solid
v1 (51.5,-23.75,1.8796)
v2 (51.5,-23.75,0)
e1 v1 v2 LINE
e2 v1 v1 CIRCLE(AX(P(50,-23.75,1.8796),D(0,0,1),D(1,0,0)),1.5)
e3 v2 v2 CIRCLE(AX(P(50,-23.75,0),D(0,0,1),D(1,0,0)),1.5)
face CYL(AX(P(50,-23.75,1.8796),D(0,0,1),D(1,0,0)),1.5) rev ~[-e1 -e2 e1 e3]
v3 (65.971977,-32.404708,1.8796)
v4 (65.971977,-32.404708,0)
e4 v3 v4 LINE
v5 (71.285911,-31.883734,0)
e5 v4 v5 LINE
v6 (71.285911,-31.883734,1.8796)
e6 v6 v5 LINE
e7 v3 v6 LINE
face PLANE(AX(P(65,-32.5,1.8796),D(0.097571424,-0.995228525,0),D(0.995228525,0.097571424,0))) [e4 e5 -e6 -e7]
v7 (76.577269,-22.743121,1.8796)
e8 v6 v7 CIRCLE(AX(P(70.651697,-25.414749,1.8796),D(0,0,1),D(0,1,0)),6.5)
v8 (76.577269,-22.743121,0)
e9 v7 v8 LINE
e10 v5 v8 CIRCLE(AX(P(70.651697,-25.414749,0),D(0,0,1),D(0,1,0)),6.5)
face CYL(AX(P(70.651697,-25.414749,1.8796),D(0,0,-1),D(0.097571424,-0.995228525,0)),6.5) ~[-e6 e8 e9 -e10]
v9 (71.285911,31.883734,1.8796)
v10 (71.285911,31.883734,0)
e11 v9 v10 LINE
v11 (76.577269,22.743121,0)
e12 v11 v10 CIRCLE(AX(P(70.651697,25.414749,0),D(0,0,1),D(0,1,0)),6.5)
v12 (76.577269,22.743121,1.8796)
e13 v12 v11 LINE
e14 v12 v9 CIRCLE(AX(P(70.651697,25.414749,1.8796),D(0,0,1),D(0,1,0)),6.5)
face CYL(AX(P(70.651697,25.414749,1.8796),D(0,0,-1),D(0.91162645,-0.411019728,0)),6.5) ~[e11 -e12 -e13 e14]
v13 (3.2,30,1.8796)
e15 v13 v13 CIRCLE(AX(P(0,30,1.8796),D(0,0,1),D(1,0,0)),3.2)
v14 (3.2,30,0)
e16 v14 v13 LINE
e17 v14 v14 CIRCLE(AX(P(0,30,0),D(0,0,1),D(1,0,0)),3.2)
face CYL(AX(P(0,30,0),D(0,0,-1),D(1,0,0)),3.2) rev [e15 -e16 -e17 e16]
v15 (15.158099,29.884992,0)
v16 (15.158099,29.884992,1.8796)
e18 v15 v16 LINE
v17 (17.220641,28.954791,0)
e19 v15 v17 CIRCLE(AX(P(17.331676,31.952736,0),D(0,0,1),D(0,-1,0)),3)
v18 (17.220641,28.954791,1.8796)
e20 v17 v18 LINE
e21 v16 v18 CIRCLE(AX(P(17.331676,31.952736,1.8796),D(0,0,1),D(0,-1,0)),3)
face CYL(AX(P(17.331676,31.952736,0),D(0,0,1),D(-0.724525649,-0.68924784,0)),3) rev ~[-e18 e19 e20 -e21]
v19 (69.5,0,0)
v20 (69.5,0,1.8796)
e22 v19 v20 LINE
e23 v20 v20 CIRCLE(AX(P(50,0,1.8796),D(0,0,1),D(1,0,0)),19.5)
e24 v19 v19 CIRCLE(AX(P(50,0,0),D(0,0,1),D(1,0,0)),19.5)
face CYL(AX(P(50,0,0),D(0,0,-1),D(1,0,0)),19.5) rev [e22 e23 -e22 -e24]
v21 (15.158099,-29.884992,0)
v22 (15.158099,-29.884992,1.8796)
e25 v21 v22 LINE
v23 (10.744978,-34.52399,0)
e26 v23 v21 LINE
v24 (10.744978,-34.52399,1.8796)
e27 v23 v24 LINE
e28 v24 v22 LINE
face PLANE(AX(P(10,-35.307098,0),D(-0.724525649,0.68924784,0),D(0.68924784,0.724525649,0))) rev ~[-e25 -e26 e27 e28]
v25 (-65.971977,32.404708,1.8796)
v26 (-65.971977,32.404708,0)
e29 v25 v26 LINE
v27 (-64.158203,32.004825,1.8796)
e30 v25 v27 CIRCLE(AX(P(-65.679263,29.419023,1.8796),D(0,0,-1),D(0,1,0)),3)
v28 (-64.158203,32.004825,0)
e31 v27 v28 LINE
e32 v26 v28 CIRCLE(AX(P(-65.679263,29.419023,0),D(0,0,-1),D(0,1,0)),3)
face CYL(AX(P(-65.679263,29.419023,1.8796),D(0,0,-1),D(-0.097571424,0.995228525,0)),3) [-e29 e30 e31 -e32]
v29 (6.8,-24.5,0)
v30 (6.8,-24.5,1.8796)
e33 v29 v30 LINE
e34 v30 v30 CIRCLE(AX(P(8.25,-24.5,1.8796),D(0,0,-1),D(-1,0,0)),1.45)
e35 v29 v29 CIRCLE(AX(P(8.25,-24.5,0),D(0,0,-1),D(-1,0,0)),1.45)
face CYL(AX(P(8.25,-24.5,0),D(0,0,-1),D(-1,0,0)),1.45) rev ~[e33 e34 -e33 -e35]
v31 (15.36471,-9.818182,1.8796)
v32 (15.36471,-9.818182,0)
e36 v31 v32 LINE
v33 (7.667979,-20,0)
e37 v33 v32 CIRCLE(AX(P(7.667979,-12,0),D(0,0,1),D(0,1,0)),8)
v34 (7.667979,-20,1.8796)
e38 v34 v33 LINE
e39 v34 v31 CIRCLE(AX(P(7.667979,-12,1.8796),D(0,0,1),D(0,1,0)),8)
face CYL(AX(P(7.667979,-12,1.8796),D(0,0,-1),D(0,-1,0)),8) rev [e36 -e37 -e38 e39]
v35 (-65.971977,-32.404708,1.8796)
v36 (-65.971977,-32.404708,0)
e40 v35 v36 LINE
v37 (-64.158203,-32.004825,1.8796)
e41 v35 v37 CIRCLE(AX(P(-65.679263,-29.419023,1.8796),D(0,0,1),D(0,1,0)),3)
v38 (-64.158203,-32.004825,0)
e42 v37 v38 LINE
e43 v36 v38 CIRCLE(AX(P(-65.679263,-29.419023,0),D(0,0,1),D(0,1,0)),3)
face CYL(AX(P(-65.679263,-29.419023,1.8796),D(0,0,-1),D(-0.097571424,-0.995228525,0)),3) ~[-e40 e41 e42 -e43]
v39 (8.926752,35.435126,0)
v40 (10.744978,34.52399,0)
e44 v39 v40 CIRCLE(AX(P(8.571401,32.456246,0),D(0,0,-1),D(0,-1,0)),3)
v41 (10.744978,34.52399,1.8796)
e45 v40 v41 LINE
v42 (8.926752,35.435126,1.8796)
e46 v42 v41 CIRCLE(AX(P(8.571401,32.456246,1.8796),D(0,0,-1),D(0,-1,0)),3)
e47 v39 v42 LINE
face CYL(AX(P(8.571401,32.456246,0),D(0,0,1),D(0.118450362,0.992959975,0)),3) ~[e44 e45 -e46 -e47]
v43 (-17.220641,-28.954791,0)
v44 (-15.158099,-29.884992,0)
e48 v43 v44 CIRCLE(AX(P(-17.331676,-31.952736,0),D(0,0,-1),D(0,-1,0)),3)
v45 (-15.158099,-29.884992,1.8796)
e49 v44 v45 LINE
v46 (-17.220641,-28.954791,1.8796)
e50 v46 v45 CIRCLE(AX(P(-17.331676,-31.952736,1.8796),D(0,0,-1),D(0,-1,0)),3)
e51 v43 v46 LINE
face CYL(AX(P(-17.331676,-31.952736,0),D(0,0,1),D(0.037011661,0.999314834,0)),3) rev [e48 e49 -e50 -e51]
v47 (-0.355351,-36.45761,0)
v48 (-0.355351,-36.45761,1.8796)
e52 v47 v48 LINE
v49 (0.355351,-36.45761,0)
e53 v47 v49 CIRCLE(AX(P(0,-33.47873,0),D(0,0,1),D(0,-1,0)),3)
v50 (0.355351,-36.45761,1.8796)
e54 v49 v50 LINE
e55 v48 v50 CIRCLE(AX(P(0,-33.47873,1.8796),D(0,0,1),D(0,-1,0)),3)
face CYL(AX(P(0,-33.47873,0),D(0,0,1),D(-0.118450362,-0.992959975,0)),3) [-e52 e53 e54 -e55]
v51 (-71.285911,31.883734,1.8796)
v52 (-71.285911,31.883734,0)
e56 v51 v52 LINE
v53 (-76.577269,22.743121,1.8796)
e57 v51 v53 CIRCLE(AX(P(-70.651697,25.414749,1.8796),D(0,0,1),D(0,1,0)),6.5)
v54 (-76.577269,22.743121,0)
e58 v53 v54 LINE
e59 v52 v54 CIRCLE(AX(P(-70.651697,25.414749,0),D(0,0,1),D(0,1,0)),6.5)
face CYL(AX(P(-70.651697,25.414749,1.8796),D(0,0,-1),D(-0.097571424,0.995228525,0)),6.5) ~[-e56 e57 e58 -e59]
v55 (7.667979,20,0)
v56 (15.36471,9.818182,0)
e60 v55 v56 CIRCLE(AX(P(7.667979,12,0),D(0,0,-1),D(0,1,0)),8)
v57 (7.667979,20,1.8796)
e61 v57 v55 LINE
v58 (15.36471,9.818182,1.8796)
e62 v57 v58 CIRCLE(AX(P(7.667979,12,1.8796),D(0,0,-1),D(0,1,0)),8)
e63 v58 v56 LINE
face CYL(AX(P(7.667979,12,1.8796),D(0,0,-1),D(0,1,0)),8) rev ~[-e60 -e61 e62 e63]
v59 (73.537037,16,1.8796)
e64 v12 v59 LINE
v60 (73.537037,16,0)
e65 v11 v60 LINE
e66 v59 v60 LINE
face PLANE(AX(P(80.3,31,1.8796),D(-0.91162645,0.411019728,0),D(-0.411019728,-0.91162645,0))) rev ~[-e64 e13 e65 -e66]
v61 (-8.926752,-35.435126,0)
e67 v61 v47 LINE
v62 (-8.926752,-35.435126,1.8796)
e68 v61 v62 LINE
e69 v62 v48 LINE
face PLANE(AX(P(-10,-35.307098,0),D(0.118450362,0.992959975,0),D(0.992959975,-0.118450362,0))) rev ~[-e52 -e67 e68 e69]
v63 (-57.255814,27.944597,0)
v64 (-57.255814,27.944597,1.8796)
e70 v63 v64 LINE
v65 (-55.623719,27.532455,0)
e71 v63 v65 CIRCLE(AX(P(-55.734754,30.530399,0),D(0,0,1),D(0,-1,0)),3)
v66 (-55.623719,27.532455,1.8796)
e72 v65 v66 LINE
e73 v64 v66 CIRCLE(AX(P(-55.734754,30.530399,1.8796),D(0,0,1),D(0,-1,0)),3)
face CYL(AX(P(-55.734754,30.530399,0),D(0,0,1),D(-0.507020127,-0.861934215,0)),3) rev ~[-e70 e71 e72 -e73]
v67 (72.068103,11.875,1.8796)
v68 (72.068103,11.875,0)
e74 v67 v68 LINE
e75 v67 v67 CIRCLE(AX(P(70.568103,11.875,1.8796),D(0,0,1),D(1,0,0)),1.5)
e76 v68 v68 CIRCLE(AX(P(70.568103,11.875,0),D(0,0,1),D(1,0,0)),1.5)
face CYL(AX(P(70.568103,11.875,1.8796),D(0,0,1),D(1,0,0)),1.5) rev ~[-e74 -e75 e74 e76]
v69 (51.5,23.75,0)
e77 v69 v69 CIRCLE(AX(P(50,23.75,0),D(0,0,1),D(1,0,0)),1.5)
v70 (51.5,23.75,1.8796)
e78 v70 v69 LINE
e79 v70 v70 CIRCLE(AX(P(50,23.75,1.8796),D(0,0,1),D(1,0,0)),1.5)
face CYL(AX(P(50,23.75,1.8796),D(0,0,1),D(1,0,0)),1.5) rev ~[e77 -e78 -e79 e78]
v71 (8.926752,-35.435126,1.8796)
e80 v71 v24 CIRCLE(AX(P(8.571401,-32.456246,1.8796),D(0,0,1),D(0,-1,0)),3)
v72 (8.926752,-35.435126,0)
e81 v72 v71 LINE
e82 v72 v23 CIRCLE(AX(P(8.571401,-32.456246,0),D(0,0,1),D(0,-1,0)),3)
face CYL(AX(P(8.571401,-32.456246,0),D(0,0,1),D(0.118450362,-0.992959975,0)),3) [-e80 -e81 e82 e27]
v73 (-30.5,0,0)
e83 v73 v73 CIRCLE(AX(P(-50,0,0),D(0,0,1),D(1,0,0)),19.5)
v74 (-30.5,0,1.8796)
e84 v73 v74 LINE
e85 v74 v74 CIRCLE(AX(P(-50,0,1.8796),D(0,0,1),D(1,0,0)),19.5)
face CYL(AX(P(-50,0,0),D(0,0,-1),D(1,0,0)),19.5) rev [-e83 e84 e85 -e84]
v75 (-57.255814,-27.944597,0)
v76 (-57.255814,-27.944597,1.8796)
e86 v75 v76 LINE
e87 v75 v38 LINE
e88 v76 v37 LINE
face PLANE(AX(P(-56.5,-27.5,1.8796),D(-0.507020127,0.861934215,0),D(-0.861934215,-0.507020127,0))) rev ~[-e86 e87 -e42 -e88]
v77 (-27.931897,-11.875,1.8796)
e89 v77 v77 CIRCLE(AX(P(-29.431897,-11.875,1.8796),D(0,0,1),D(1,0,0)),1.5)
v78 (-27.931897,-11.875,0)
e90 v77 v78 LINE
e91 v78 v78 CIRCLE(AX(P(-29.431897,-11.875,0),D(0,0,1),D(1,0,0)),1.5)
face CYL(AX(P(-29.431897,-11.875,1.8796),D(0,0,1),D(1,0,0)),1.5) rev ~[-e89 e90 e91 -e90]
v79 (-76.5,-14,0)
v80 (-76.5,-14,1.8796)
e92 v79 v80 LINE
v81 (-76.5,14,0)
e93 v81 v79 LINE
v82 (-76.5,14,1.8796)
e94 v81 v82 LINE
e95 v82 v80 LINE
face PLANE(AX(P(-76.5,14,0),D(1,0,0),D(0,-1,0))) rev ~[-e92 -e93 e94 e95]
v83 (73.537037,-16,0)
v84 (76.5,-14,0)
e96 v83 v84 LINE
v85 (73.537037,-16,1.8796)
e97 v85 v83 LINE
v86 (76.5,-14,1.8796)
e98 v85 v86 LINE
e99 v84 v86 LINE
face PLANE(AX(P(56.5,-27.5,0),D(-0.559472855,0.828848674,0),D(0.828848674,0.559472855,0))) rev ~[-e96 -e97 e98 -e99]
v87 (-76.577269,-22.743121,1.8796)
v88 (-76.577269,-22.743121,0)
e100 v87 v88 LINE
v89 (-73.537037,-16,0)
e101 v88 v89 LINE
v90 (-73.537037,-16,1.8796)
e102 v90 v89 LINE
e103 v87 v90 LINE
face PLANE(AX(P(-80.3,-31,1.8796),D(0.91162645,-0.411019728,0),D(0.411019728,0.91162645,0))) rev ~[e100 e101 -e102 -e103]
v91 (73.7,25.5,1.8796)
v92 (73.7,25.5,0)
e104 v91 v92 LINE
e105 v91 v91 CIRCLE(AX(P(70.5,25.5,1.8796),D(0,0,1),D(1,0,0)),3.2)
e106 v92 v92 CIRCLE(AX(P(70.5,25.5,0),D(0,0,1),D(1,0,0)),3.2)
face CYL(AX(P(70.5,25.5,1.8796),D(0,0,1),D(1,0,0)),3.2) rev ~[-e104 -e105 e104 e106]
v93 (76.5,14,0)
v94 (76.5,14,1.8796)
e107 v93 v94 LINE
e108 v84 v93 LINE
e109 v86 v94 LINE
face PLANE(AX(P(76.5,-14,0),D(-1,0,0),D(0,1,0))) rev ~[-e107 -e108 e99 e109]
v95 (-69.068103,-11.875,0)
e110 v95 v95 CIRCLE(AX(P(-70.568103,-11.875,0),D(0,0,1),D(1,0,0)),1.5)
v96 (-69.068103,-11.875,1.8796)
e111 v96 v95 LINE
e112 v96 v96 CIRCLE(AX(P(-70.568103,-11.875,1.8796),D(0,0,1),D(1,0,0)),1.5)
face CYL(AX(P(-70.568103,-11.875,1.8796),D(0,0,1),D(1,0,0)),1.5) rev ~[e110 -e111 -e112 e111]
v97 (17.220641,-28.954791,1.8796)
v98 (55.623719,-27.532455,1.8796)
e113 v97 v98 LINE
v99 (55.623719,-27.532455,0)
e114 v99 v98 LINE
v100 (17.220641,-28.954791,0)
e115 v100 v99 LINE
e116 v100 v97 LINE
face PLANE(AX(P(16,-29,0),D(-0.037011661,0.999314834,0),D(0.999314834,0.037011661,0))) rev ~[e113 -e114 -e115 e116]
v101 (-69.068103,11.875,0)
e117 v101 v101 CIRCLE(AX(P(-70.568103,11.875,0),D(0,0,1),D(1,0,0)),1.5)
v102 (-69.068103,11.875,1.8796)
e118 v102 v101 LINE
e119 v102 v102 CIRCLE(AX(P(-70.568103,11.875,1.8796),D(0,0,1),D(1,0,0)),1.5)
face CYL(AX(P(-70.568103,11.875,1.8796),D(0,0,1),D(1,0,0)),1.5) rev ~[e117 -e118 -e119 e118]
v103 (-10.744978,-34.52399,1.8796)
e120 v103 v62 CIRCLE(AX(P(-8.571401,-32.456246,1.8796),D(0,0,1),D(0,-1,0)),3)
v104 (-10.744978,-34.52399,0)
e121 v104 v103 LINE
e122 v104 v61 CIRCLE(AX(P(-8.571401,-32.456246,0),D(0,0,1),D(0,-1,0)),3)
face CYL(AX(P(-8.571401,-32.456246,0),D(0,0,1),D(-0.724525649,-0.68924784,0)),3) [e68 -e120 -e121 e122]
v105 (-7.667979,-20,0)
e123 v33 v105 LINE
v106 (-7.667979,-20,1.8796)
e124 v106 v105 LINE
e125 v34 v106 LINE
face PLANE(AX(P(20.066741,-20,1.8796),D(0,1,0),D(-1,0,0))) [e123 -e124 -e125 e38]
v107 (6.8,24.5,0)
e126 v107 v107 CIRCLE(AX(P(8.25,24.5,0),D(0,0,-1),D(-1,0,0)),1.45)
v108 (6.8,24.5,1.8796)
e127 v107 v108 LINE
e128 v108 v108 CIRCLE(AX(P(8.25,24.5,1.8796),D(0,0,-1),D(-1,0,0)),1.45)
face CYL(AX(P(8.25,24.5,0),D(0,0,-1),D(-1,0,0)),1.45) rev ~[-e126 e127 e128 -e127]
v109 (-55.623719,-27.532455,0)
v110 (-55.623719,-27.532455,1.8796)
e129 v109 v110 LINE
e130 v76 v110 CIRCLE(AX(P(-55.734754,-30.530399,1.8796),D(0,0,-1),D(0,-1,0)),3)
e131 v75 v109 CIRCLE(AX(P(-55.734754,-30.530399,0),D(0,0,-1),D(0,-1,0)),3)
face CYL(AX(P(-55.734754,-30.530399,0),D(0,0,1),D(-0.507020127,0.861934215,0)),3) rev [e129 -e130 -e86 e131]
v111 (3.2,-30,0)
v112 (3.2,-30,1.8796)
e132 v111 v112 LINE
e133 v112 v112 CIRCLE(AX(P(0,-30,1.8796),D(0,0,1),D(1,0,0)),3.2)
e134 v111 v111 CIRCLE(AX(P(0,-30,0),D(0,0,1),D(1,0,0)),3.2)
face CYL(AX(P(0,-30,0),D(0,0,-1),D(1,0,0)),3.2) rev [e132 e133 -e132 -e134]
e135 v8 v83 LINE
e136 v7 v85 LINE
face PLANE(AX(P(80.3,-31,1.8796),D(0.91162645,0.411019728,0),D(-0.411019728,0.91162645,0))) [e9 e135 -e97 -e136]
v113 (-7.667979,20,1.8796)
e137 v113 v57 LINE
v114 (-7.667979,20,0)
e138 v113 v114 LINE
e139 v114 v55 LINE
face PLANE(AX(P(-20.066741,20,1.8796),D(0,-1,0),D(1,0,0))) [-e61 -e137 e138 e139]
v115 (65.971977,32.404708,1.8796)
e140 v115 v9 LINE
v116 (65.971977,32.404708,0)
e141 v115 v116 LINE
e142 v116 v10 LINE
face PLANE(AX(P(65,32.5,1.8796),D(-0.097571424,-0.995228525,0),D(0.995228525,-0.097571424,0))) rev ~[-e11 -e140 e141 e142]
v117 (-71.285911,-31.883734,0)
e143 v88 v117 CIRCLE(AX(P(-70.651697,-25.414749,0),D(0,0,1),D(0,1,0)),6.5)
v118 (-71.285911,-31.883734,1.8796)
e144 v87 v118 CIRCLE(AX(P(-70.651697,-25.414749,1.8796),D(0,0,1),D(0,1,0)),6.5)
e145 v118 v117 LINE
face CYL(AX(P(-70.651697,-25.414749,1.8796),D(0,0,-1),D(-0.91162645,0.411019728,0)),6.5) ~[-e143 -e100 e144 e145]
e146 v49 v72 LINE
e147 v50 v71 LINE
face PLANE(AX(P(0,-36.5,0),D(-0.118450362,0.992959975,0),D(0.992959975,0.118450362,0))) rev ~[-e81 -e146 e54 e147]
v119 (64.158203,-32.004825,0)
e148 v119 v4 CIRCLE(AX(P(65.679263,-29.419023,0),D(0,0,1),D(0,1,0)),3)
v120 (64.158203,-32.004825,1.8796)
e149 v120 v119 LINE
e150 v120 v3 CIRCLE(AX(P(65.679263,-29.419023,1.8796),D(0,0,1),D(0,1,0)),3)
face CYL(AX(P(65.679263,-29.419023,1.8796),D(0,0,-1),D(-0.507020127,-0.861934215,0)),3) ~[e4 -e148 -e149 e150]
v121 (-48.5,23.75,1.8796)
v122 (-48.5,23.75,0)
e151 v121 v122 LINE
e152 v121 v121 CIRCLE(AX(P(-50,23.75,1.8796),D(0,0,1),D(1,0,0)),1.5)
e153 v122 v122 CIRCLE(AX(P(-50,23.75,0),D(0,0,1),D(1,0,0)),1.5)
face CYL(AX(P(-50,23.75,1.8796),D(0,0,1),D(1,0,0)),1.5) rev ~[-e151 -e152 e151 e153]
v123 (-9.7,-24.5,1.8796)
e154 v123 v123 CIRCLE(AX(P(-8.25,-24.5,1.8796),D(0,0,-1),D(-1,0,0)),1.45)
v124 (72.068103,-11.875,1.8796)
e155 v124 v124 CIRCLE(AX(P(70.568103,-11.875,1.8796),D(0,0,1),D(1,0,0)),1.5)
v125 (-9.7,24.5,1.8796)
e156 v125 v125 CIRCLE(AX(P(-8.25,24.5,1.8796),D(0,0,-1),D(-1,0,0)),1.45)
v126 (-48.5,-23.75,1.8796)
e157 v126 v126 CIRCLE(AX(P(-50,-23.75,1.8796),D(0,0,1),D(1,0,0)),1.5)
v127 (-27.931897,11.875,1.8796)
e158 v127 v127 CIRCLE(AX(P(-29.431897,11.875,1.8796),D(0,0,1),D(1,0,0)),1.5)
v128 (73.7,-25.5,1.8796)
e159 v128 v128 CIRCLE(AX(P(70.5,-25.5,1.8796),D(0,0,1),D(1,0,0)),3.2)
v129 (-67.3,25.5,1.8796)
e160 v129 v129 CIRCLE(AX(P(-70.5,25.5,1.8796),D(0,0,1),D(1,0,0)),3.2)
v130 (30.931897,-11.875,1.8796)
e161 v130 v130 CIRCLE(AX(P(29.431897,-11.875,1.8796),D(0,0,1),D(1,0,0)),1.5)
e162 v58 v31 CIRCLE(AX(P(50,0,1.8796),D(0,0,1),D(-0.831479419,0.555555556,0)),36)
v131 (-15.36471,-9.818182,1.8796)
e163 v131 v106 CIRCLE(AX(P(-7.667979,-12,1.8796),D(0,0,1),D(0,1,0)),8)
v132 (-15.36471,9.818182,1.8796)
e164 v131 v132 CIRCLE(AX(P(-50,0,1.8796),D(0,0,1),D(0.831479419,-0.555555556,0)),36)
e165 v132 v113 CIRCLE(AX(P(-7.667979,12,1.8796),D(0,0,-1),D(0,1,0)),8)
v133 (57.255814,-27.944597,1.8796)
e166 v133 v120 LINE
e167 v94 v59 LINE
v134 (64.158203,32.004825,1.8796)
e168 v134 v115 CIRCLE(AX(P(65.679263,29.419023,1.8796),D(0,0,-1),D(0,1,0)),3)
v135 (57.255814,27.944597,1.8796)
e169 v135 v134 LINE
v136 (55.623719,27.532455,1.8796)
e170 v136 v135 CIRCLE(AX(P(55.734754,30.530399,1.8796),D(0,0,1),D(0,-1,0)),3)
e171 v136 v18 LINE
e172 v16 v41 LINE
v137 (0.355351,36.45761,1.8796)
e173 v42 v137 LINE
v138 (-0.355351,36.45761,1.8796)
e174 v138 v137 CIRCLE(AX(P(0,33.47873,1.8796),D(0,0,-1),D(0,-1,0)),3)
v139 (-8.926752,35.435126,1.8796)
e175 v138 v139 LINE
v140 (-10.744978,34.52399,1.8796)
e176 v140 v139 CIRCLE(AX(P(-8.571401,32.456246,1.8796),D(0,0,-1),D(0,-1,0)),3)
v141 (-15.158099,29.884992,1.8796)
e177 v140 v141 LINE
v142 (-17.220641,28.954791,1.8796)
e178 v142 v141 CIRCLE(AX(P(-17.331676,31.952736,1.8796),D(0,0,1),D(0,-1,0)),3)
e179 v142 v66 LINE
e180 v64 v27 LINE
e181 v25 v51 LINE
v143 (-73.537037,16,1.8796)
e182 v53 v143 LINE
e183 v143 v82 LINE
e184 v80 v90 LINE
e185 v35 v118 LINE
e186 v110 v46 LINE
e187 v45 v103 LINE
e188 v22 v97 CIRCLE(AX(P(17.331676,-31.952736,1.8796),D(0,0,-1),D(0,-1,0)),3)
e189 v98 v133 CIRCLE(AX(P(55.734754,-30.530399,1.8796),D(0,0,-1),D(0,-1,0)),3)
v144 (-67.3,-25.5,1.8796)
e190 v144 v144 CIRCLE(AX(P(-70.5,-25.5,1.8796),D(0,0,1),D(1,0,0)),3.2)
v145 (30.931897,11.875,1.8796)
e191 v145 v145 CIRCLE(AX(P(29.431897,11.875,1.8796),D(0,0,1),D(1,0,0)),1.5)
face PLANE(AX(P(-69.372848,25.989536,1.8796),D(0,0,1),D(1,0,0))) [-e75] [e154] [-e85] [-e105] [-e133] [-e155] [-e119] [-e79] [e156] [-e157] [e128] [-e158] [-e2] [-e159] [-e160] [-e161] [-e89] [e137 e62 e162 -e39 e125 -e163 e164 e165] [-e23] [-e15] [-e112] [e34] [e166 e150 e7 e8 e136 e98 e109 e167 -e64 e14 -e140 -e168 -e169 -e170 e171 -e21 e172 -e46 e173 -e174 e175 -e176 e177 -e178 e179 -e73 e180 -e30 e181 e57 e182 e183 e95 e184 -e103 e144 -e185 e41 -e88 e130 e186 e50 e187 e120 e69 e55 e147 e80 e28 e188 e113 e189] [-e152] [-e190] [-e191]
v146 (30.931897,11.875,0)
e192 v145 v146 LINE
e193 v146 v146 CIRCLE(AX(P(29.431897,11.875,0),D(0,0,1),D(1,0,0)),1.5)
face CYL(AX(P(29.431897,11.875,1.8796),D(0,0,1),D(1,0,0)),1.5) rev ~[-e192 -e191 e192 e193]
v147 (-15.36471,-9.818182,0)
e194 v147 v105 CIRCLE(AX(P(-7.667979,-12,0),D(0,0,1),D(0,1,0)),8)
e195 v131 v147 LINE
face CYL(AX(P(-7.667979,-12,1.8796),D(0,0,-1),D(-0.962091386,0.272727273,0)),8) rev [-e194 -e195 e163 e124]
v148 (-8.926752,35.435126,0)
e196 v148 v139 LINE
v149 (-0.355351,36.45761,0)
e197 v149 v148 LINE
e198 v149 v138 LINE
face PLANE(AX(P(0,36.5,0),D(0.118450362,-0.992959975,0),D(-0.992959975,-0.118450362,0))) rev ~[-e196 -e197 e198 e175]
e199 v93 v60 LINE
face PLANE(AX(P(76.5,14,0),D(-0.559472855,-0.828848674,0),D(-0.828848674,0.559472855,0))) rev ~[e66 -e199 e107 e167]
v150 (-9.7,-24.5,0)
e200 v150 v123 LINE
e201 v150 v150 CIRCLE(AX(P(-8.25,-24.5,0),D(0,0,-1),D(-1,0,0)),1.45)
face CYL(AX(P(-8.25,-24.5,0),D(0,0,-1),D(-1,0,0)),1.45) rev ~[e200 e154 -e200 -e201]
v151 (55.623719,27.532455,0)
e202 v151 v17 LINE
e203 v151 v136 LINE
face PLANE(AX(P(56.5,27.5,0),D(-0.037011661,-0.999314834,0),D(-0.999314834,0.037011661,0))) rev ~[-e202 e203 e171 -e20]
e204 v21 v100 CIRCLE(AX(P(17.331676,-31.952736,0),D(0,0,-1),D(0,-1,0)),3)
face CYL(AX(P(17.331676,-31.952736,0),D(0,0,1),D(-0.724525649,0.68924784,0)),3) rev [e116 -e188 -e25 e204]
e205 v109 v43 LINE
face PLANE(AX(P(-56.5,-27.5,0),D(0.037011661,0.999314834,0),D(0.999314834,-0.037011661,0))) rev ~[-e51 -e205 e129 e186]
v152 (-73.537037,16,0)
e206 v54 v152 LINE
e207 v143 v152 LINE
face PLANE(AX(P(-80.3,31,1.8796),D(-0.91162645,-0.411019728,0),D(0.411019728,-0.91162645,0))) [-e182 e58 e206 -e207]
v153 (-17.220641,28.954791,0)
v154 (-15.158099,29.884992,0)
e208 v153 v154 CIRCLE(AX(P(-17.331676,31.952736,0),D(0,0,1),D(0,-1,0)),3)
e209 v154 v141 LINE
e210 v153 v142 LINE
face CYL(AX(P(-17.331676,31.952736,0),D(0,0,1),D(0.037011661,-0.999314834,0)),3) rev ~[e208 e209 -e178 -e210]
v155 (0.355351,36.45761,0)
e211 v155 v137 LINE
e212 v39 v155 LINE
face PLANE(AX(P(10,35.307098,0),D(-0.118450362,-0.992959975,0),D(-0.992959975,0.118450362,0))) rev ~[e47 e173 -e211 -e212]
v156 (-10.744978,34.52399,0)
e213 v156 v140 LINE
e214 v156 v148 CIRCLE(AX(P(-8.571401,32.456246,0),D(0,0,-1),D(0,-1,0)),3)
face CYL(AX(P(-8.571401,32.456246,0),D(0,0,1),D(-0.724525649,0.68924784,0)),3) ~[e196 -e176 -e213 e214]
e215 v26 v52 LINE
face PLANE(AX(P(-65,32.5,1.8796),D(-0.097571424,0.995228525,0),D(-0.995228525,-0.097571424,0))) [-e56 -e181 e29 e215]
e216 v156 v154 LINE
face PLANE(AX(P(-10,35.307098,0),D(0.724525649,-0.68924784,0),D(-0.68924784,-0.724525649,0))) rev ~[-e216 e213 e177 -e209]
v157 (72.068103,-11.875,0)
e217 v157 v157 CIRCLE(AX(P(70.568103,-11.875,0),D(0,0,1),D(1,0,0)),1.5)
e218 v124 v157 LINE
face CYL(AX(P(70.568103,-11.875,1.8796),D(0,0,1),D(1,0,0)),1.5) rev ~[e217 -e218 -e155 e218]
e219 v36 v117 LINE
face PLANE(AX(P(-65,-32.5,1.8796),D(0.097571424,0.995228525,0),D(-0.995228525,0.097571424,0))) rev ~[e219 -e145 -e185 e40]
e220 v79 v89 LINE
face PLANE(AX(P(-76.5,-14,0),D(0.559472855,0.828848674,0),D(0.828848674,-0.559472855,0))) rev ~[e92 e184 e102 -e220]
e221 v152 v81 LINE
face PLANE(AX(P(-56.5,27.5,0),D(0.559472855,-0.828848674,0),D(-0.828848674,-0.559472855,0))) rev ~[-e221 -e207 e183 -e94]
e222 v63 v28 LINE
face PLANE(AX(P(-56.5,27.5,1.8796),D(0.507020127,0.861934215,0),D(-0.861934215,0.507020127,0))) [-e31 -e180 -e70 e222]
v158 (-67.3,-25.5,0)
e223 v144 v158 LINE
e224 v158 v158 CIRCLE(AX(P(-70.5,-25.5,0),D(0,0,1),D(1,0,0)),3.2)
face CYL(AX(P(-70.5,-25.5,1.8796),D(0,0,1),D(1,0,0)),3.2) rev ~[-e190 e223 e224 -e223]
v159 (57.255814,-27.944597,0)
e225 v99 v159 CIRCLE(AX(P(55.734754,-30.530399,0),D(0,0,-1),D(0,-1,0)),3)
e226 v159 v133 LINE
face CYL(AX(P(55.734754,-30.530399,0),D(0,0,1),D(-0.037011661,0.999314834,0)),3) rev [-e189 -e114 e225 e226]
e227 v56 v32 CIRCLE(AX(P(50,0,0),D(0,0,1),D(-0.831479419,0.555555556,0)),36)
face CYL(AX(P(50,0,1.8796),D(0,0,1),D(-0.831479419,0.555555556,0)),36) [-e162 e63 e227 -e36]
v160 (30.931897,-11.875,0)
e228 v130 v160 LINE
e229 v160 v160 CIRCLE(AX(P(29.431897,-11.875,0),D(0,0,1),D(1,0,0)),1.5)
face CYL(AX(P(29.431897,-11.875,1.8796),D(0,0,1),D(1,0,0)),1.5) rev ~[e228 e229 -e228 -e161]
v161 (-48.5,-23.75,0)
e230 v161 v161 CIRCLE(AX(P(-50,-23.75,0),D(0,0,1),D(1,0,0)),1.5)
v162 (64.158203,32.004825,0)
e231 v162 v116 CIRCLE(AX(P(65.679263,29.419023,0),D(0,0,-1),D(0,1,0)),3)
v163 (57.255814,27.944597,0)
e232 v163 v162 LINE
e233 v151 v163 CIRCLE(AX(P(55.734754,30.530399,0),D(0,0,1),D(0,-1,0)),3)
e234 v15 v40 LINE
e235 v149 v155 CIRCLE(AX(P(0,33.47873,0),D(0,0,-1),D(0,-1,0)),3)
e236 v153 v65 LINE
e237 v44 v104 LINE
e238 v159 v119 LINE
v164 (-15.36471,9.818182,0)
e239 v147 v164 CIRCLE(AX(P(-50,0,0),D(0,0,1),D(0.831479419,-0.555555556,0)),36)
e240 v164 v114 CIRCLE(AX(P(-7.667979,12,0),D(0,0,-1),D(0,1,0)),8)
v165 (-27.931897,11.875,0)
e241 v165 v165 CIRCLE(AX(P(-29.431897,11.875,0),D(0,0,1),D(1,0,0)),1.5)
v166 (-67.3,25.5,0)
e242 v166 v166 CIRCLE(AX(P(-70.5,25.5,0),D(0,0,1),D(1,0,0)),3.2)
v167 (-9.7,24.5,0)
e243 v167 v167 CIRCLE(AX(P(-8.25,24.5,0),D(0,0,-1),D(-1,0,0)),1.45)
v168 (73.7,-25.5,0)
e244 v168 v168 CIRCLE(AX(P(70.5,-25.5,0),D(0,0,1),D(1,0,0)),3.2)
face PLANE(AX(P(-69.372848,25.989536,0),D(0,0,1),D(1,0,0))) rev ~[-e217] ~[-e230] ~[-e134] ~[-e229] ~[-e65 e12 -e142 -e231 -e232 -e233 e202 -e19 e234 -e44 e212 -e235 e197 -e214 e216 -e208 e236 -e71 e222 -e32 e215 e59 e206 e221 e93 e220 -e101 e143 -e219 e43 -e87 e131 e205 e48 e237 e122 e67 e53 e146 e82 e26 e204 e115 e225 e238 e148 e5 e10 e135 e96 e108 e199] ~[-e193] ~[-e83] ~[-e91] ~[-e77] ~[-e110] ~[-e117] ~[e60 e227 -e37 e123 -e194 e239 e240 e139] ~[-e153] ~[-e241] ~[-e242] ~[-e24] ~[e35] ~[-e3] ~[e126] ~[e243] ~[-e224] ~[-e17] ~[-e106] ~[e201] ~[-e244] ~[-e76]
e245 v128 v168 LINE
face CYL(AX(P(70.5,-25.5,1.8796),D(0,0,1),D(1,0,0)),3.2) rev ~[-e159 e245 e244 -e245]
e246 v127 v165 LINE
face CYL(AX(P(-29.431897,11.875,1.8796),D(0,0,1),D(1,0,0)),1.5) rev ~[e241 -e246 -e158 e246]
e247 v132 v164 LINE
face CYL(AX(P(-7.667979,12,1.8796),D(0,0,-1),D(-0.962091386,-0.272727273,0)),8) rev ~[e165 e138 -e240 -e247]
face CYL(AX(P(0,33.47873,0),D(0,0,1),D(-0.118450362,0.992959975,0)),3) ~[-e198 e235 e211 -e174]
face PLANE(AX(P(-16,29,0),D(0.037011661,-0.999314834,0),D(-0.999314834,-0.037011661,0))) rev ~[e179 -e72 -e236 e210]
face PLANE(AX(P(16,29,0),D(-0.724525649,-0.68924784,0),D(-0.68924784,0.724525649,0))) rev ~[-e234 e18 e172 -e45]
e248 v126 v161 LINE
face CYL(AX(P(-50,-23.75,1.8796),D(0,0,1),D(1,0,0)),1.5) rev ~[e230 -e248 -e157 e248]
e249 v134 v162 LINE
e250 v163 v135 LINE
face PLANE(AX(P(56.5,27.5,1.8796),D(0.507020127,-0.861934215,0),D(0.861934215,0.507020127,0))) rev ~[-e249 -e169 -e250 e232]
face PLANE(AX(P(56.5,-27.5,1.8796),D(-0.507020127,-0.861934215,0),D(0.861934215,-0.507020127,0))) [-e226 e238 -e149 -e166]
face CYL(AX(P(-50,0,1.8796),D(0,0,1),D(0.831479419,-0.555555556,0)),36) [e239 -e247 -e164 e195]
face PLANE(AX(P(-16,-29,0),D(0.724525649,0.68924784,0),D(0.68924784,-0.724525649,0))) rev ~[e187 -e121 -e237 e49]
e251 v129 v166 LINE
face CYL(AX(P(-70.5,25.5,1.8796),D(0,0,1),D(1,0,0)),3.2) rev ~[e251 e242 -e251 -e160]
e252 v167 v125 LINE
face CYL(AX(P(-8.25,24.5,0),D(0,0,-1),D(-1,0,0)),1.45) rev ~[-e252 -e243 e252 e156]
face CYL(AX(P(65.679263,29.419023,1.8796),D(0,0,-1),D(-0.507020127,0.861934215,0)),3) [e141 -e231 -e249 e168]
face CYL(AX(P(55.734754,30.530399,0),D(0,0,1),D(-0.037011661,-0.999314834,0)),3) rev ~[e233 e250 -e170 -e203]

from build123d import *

# Parameters (mm, degrees)
SKETCH1_R           = 3.2
SKETCH1_R_2         = 19.5
BOSS_EXTRUDE1_DEPTH = 1.8796
CUT_EXTRUDE1_DEPTH  = 2.8796
SKETCH3_R           = 3.2
BOSS_EXTRUDE2_DEPTH = 1.8796
FILLET1_R           = 6.5
SKETCH4_R           = 1.5
CUT_EXTRUDE2_DEPTH  = 2.8796
FILLET2_R           = 8
SKETCH6_R           = 1.45
CUT_EXTRUDE4_DEPTH  = 2.8796
FILLET3_R           = 3


with BuildPart() as part:
    # Sketch1 → Boss-Extrude1 (new body)
    with BuildSketch(Plane.XY):
        Polygon((0, 36.5), (-10, 35.30709832), (-16, 29), (-56.5, 27.5), (-76.5, 14), (-76.5, -14), (-56.5, -27.5), (-16, -29), (-10, -35.30709832), (0, -36.5), (10, -35.30709832), (16, -29), (56.5, -27.5), (76.5, -14), (76.5, 14), (56.5, 27.5), (16, 29), (10, 35.30709832), align=None)
        with Locations((0, 30)):
            Circle(SKETCH1_R, mode=Mode.SUBTRACT)
        with Locations((-50, 0)):
            Circle(SKETCH1_R_2, mode=Mode.SUBTRACT)
        with Locations((50, 0)):
            Circle(SKETCH1_R_2, mode=Mode.SUBTRACT)
        with Locations((0, -30)):
            Circle(SKETCH1_R, mode=Mode.SUBTRACT)
    extrude(amount=BOSS_EXTRUDE1_DEPTH)

    # Sketch2 → Cut-Extrude1 (cut, through all)
    with BuildSketch(Plane.XY.offset(1.8796)):
        with BuildLine():
            Line((-20.066740906, 20), (20.066740906, 20))
            ThreePointArc((20.066740906, 20), (14, 0), (20.066740906, -20))
            Line((20.066740906, -20), (-20.066740906, -20))
            ThreePointArc((-20.066740906, -20), (-14, 0), (-20.066740906, 20))
        make_face()
    extrude(amount=-CUT_EXTRUDE1_DEPTH, mode=Mode.SUBTRACT)

    # Sketch3 → Boss-Extrude2 (add)
    with BuildSketch(Plane.XY.offset(1.8796)):
        Polygon((-56.5, 27.5), (-65, 32.5), (-80.3, 31), (-73.537037037, 16), align=None)
        with Locations((-70.5, 25.5)):
            Circle(SKETCH3_R, mode=Mode.SUBTRACT)
        Polygon((73.537037037, 16), (56.5, 27.5), (65, 32.5), (80.3, 31), align=None)
        with Locations((70.5, 25.5)):
            Circle(SKETCH3_R, mode=Mode.SUBTRACT)
        Polygon((56.5, -27.5), (65, -32.5), (80.3, -31), (73.537037037, -16), align=None)
        with Locations((70.5, -25.5)):
            Circle(SKETCH3_R, mode=Mode.SUBTRACT)
        Polygon((-73.537037037, -16), (-56.5, -27.5), (-65, -32.5), (-80.3, -31), align=None)
        with Locations((-70.5, -25.5)):
            Circle(SKETCH3_R, mode=Mode.SUBTRACT)
    extrude(amount=-BOSS_EXTRUDE2_DEPTH)

    # Fillet1
    fillet1_edges = [part.edges().sort_by_distance(p)[0] for p in [
        (80.3, -31, 0.9398),
        (-80.3, -31, 0.9398),
        (-80.3, 31, 0.9398),
        (80.3, 31, 0.9398),
    ]]
    fillet(fillet1_edges, radius=FILLET1_R)

    # Sketch4 → Cut-Extrude2 (cut, through all)
    with BuildSketch(Plane.XY.offset(1.8796)):
        with Locations((-50, 23.75)):
            Circle(SKETCH4_R)
        with Locations((-70.56810334, 11.875)):
            Circle(SKETCH4_R)
        with Locations((-70.56810334, -11.875)):
            Circle(SKETCH4_R)
        with Locations((-50, -23.75)):
            Circle(SKETCH4_R)
        with Locations((-29.43189666, -11.875)):
            Circle(SKETCH4_R)
        with Locations((-29.43189666, 11.875)):
            Circle(SKETCH4_R)
        with Locations((29.43189666, 11.875)):
            Circle(SKETCH4_R)
        with Locations((29.43189666, -11.875)):
            Circle(SKETCH4_R)
        with Locations((50, -23.75)):
            Circle(SKETCH4_R)
        with Locations((70.56810334, -11.875)):
            Circle(SKETCH4_R)
        with Locations((70.56810334, 11.875)):
            Circle(SKETCH4_R)
        with Locations((50, 23.75)):
            Circle(SKETCH4_R)
    extrude(amount=-CUT_EXTRUDE2_DEPTH, mode=Mode.SUBTRACT)

    # Fillet2
    fillet2_edges = [part.edges().sort_by_distance(p)[0] for p in [
        (-20.066740906, -20, 0.9398),
        (-20.066740906, 20, 0.9398),
        (20.066740906, 20, 0.9398),
        (20.066740906, -20, 0.9398),
    ]]
    fillet(fillet2_edges, radius=FILLET2_R)

    # Sketch6 → Cut-Extrude4 (cut, through all)
    with BuildSketch(Plane(origin=(0, 0, 0), x_dir=(-1, 0, 0), z_dir=(0, 0, -1))):
        with Locations((8.25, 24.5)):
            Circle(SKETCH6_R)
        with Locations((-8.25, 24.5)):
            Circle(SKETCH6_R)
        with Locations((-8.25, -24.5)):
            Circle(SKETCH6_R)
        with Locations((8.25, -24.5)):
            Circle(SKETCH6_R)
    extrude(amount=-CUT_EXTRUDE4_DEPTH, mode=Mode.SUBTRACT)

    # Fillet3
    fillet3_edges = [part.edges().sort_by_distance(p)[0] for p in [
        (65, -32.5, 0.9398),
        (-65, -32.5, 0.9398),
        (10, 35.30709832, 0.9398),
        (16, 29, 0.9398),
        (56.5, 27.5, 0.9398),
        (56.5, -27.5, 0.9398),
        (16, -29, 0.9398),
        (10, -35.30709832, 0.9398),
        (0, -36.5, 0.9398),
        (-10, -35.30709832, 0.9398),
        (-16, -29, 0.9398),
        (-56.5, -27.5, 0.9398),
        (-56.5, 27.5, 0.9398),
        (-16, 29, 0.9398),
        (-10, 35.30709832, 0.9398),
        (0, 36.5, 0.9398),
        (-65, 32.5, 0.9398),
        (65, 32.5, 0.9398),
    ]]
    fillet(fillet3_edges, radius=FILLET3_R)


solid = part.part
